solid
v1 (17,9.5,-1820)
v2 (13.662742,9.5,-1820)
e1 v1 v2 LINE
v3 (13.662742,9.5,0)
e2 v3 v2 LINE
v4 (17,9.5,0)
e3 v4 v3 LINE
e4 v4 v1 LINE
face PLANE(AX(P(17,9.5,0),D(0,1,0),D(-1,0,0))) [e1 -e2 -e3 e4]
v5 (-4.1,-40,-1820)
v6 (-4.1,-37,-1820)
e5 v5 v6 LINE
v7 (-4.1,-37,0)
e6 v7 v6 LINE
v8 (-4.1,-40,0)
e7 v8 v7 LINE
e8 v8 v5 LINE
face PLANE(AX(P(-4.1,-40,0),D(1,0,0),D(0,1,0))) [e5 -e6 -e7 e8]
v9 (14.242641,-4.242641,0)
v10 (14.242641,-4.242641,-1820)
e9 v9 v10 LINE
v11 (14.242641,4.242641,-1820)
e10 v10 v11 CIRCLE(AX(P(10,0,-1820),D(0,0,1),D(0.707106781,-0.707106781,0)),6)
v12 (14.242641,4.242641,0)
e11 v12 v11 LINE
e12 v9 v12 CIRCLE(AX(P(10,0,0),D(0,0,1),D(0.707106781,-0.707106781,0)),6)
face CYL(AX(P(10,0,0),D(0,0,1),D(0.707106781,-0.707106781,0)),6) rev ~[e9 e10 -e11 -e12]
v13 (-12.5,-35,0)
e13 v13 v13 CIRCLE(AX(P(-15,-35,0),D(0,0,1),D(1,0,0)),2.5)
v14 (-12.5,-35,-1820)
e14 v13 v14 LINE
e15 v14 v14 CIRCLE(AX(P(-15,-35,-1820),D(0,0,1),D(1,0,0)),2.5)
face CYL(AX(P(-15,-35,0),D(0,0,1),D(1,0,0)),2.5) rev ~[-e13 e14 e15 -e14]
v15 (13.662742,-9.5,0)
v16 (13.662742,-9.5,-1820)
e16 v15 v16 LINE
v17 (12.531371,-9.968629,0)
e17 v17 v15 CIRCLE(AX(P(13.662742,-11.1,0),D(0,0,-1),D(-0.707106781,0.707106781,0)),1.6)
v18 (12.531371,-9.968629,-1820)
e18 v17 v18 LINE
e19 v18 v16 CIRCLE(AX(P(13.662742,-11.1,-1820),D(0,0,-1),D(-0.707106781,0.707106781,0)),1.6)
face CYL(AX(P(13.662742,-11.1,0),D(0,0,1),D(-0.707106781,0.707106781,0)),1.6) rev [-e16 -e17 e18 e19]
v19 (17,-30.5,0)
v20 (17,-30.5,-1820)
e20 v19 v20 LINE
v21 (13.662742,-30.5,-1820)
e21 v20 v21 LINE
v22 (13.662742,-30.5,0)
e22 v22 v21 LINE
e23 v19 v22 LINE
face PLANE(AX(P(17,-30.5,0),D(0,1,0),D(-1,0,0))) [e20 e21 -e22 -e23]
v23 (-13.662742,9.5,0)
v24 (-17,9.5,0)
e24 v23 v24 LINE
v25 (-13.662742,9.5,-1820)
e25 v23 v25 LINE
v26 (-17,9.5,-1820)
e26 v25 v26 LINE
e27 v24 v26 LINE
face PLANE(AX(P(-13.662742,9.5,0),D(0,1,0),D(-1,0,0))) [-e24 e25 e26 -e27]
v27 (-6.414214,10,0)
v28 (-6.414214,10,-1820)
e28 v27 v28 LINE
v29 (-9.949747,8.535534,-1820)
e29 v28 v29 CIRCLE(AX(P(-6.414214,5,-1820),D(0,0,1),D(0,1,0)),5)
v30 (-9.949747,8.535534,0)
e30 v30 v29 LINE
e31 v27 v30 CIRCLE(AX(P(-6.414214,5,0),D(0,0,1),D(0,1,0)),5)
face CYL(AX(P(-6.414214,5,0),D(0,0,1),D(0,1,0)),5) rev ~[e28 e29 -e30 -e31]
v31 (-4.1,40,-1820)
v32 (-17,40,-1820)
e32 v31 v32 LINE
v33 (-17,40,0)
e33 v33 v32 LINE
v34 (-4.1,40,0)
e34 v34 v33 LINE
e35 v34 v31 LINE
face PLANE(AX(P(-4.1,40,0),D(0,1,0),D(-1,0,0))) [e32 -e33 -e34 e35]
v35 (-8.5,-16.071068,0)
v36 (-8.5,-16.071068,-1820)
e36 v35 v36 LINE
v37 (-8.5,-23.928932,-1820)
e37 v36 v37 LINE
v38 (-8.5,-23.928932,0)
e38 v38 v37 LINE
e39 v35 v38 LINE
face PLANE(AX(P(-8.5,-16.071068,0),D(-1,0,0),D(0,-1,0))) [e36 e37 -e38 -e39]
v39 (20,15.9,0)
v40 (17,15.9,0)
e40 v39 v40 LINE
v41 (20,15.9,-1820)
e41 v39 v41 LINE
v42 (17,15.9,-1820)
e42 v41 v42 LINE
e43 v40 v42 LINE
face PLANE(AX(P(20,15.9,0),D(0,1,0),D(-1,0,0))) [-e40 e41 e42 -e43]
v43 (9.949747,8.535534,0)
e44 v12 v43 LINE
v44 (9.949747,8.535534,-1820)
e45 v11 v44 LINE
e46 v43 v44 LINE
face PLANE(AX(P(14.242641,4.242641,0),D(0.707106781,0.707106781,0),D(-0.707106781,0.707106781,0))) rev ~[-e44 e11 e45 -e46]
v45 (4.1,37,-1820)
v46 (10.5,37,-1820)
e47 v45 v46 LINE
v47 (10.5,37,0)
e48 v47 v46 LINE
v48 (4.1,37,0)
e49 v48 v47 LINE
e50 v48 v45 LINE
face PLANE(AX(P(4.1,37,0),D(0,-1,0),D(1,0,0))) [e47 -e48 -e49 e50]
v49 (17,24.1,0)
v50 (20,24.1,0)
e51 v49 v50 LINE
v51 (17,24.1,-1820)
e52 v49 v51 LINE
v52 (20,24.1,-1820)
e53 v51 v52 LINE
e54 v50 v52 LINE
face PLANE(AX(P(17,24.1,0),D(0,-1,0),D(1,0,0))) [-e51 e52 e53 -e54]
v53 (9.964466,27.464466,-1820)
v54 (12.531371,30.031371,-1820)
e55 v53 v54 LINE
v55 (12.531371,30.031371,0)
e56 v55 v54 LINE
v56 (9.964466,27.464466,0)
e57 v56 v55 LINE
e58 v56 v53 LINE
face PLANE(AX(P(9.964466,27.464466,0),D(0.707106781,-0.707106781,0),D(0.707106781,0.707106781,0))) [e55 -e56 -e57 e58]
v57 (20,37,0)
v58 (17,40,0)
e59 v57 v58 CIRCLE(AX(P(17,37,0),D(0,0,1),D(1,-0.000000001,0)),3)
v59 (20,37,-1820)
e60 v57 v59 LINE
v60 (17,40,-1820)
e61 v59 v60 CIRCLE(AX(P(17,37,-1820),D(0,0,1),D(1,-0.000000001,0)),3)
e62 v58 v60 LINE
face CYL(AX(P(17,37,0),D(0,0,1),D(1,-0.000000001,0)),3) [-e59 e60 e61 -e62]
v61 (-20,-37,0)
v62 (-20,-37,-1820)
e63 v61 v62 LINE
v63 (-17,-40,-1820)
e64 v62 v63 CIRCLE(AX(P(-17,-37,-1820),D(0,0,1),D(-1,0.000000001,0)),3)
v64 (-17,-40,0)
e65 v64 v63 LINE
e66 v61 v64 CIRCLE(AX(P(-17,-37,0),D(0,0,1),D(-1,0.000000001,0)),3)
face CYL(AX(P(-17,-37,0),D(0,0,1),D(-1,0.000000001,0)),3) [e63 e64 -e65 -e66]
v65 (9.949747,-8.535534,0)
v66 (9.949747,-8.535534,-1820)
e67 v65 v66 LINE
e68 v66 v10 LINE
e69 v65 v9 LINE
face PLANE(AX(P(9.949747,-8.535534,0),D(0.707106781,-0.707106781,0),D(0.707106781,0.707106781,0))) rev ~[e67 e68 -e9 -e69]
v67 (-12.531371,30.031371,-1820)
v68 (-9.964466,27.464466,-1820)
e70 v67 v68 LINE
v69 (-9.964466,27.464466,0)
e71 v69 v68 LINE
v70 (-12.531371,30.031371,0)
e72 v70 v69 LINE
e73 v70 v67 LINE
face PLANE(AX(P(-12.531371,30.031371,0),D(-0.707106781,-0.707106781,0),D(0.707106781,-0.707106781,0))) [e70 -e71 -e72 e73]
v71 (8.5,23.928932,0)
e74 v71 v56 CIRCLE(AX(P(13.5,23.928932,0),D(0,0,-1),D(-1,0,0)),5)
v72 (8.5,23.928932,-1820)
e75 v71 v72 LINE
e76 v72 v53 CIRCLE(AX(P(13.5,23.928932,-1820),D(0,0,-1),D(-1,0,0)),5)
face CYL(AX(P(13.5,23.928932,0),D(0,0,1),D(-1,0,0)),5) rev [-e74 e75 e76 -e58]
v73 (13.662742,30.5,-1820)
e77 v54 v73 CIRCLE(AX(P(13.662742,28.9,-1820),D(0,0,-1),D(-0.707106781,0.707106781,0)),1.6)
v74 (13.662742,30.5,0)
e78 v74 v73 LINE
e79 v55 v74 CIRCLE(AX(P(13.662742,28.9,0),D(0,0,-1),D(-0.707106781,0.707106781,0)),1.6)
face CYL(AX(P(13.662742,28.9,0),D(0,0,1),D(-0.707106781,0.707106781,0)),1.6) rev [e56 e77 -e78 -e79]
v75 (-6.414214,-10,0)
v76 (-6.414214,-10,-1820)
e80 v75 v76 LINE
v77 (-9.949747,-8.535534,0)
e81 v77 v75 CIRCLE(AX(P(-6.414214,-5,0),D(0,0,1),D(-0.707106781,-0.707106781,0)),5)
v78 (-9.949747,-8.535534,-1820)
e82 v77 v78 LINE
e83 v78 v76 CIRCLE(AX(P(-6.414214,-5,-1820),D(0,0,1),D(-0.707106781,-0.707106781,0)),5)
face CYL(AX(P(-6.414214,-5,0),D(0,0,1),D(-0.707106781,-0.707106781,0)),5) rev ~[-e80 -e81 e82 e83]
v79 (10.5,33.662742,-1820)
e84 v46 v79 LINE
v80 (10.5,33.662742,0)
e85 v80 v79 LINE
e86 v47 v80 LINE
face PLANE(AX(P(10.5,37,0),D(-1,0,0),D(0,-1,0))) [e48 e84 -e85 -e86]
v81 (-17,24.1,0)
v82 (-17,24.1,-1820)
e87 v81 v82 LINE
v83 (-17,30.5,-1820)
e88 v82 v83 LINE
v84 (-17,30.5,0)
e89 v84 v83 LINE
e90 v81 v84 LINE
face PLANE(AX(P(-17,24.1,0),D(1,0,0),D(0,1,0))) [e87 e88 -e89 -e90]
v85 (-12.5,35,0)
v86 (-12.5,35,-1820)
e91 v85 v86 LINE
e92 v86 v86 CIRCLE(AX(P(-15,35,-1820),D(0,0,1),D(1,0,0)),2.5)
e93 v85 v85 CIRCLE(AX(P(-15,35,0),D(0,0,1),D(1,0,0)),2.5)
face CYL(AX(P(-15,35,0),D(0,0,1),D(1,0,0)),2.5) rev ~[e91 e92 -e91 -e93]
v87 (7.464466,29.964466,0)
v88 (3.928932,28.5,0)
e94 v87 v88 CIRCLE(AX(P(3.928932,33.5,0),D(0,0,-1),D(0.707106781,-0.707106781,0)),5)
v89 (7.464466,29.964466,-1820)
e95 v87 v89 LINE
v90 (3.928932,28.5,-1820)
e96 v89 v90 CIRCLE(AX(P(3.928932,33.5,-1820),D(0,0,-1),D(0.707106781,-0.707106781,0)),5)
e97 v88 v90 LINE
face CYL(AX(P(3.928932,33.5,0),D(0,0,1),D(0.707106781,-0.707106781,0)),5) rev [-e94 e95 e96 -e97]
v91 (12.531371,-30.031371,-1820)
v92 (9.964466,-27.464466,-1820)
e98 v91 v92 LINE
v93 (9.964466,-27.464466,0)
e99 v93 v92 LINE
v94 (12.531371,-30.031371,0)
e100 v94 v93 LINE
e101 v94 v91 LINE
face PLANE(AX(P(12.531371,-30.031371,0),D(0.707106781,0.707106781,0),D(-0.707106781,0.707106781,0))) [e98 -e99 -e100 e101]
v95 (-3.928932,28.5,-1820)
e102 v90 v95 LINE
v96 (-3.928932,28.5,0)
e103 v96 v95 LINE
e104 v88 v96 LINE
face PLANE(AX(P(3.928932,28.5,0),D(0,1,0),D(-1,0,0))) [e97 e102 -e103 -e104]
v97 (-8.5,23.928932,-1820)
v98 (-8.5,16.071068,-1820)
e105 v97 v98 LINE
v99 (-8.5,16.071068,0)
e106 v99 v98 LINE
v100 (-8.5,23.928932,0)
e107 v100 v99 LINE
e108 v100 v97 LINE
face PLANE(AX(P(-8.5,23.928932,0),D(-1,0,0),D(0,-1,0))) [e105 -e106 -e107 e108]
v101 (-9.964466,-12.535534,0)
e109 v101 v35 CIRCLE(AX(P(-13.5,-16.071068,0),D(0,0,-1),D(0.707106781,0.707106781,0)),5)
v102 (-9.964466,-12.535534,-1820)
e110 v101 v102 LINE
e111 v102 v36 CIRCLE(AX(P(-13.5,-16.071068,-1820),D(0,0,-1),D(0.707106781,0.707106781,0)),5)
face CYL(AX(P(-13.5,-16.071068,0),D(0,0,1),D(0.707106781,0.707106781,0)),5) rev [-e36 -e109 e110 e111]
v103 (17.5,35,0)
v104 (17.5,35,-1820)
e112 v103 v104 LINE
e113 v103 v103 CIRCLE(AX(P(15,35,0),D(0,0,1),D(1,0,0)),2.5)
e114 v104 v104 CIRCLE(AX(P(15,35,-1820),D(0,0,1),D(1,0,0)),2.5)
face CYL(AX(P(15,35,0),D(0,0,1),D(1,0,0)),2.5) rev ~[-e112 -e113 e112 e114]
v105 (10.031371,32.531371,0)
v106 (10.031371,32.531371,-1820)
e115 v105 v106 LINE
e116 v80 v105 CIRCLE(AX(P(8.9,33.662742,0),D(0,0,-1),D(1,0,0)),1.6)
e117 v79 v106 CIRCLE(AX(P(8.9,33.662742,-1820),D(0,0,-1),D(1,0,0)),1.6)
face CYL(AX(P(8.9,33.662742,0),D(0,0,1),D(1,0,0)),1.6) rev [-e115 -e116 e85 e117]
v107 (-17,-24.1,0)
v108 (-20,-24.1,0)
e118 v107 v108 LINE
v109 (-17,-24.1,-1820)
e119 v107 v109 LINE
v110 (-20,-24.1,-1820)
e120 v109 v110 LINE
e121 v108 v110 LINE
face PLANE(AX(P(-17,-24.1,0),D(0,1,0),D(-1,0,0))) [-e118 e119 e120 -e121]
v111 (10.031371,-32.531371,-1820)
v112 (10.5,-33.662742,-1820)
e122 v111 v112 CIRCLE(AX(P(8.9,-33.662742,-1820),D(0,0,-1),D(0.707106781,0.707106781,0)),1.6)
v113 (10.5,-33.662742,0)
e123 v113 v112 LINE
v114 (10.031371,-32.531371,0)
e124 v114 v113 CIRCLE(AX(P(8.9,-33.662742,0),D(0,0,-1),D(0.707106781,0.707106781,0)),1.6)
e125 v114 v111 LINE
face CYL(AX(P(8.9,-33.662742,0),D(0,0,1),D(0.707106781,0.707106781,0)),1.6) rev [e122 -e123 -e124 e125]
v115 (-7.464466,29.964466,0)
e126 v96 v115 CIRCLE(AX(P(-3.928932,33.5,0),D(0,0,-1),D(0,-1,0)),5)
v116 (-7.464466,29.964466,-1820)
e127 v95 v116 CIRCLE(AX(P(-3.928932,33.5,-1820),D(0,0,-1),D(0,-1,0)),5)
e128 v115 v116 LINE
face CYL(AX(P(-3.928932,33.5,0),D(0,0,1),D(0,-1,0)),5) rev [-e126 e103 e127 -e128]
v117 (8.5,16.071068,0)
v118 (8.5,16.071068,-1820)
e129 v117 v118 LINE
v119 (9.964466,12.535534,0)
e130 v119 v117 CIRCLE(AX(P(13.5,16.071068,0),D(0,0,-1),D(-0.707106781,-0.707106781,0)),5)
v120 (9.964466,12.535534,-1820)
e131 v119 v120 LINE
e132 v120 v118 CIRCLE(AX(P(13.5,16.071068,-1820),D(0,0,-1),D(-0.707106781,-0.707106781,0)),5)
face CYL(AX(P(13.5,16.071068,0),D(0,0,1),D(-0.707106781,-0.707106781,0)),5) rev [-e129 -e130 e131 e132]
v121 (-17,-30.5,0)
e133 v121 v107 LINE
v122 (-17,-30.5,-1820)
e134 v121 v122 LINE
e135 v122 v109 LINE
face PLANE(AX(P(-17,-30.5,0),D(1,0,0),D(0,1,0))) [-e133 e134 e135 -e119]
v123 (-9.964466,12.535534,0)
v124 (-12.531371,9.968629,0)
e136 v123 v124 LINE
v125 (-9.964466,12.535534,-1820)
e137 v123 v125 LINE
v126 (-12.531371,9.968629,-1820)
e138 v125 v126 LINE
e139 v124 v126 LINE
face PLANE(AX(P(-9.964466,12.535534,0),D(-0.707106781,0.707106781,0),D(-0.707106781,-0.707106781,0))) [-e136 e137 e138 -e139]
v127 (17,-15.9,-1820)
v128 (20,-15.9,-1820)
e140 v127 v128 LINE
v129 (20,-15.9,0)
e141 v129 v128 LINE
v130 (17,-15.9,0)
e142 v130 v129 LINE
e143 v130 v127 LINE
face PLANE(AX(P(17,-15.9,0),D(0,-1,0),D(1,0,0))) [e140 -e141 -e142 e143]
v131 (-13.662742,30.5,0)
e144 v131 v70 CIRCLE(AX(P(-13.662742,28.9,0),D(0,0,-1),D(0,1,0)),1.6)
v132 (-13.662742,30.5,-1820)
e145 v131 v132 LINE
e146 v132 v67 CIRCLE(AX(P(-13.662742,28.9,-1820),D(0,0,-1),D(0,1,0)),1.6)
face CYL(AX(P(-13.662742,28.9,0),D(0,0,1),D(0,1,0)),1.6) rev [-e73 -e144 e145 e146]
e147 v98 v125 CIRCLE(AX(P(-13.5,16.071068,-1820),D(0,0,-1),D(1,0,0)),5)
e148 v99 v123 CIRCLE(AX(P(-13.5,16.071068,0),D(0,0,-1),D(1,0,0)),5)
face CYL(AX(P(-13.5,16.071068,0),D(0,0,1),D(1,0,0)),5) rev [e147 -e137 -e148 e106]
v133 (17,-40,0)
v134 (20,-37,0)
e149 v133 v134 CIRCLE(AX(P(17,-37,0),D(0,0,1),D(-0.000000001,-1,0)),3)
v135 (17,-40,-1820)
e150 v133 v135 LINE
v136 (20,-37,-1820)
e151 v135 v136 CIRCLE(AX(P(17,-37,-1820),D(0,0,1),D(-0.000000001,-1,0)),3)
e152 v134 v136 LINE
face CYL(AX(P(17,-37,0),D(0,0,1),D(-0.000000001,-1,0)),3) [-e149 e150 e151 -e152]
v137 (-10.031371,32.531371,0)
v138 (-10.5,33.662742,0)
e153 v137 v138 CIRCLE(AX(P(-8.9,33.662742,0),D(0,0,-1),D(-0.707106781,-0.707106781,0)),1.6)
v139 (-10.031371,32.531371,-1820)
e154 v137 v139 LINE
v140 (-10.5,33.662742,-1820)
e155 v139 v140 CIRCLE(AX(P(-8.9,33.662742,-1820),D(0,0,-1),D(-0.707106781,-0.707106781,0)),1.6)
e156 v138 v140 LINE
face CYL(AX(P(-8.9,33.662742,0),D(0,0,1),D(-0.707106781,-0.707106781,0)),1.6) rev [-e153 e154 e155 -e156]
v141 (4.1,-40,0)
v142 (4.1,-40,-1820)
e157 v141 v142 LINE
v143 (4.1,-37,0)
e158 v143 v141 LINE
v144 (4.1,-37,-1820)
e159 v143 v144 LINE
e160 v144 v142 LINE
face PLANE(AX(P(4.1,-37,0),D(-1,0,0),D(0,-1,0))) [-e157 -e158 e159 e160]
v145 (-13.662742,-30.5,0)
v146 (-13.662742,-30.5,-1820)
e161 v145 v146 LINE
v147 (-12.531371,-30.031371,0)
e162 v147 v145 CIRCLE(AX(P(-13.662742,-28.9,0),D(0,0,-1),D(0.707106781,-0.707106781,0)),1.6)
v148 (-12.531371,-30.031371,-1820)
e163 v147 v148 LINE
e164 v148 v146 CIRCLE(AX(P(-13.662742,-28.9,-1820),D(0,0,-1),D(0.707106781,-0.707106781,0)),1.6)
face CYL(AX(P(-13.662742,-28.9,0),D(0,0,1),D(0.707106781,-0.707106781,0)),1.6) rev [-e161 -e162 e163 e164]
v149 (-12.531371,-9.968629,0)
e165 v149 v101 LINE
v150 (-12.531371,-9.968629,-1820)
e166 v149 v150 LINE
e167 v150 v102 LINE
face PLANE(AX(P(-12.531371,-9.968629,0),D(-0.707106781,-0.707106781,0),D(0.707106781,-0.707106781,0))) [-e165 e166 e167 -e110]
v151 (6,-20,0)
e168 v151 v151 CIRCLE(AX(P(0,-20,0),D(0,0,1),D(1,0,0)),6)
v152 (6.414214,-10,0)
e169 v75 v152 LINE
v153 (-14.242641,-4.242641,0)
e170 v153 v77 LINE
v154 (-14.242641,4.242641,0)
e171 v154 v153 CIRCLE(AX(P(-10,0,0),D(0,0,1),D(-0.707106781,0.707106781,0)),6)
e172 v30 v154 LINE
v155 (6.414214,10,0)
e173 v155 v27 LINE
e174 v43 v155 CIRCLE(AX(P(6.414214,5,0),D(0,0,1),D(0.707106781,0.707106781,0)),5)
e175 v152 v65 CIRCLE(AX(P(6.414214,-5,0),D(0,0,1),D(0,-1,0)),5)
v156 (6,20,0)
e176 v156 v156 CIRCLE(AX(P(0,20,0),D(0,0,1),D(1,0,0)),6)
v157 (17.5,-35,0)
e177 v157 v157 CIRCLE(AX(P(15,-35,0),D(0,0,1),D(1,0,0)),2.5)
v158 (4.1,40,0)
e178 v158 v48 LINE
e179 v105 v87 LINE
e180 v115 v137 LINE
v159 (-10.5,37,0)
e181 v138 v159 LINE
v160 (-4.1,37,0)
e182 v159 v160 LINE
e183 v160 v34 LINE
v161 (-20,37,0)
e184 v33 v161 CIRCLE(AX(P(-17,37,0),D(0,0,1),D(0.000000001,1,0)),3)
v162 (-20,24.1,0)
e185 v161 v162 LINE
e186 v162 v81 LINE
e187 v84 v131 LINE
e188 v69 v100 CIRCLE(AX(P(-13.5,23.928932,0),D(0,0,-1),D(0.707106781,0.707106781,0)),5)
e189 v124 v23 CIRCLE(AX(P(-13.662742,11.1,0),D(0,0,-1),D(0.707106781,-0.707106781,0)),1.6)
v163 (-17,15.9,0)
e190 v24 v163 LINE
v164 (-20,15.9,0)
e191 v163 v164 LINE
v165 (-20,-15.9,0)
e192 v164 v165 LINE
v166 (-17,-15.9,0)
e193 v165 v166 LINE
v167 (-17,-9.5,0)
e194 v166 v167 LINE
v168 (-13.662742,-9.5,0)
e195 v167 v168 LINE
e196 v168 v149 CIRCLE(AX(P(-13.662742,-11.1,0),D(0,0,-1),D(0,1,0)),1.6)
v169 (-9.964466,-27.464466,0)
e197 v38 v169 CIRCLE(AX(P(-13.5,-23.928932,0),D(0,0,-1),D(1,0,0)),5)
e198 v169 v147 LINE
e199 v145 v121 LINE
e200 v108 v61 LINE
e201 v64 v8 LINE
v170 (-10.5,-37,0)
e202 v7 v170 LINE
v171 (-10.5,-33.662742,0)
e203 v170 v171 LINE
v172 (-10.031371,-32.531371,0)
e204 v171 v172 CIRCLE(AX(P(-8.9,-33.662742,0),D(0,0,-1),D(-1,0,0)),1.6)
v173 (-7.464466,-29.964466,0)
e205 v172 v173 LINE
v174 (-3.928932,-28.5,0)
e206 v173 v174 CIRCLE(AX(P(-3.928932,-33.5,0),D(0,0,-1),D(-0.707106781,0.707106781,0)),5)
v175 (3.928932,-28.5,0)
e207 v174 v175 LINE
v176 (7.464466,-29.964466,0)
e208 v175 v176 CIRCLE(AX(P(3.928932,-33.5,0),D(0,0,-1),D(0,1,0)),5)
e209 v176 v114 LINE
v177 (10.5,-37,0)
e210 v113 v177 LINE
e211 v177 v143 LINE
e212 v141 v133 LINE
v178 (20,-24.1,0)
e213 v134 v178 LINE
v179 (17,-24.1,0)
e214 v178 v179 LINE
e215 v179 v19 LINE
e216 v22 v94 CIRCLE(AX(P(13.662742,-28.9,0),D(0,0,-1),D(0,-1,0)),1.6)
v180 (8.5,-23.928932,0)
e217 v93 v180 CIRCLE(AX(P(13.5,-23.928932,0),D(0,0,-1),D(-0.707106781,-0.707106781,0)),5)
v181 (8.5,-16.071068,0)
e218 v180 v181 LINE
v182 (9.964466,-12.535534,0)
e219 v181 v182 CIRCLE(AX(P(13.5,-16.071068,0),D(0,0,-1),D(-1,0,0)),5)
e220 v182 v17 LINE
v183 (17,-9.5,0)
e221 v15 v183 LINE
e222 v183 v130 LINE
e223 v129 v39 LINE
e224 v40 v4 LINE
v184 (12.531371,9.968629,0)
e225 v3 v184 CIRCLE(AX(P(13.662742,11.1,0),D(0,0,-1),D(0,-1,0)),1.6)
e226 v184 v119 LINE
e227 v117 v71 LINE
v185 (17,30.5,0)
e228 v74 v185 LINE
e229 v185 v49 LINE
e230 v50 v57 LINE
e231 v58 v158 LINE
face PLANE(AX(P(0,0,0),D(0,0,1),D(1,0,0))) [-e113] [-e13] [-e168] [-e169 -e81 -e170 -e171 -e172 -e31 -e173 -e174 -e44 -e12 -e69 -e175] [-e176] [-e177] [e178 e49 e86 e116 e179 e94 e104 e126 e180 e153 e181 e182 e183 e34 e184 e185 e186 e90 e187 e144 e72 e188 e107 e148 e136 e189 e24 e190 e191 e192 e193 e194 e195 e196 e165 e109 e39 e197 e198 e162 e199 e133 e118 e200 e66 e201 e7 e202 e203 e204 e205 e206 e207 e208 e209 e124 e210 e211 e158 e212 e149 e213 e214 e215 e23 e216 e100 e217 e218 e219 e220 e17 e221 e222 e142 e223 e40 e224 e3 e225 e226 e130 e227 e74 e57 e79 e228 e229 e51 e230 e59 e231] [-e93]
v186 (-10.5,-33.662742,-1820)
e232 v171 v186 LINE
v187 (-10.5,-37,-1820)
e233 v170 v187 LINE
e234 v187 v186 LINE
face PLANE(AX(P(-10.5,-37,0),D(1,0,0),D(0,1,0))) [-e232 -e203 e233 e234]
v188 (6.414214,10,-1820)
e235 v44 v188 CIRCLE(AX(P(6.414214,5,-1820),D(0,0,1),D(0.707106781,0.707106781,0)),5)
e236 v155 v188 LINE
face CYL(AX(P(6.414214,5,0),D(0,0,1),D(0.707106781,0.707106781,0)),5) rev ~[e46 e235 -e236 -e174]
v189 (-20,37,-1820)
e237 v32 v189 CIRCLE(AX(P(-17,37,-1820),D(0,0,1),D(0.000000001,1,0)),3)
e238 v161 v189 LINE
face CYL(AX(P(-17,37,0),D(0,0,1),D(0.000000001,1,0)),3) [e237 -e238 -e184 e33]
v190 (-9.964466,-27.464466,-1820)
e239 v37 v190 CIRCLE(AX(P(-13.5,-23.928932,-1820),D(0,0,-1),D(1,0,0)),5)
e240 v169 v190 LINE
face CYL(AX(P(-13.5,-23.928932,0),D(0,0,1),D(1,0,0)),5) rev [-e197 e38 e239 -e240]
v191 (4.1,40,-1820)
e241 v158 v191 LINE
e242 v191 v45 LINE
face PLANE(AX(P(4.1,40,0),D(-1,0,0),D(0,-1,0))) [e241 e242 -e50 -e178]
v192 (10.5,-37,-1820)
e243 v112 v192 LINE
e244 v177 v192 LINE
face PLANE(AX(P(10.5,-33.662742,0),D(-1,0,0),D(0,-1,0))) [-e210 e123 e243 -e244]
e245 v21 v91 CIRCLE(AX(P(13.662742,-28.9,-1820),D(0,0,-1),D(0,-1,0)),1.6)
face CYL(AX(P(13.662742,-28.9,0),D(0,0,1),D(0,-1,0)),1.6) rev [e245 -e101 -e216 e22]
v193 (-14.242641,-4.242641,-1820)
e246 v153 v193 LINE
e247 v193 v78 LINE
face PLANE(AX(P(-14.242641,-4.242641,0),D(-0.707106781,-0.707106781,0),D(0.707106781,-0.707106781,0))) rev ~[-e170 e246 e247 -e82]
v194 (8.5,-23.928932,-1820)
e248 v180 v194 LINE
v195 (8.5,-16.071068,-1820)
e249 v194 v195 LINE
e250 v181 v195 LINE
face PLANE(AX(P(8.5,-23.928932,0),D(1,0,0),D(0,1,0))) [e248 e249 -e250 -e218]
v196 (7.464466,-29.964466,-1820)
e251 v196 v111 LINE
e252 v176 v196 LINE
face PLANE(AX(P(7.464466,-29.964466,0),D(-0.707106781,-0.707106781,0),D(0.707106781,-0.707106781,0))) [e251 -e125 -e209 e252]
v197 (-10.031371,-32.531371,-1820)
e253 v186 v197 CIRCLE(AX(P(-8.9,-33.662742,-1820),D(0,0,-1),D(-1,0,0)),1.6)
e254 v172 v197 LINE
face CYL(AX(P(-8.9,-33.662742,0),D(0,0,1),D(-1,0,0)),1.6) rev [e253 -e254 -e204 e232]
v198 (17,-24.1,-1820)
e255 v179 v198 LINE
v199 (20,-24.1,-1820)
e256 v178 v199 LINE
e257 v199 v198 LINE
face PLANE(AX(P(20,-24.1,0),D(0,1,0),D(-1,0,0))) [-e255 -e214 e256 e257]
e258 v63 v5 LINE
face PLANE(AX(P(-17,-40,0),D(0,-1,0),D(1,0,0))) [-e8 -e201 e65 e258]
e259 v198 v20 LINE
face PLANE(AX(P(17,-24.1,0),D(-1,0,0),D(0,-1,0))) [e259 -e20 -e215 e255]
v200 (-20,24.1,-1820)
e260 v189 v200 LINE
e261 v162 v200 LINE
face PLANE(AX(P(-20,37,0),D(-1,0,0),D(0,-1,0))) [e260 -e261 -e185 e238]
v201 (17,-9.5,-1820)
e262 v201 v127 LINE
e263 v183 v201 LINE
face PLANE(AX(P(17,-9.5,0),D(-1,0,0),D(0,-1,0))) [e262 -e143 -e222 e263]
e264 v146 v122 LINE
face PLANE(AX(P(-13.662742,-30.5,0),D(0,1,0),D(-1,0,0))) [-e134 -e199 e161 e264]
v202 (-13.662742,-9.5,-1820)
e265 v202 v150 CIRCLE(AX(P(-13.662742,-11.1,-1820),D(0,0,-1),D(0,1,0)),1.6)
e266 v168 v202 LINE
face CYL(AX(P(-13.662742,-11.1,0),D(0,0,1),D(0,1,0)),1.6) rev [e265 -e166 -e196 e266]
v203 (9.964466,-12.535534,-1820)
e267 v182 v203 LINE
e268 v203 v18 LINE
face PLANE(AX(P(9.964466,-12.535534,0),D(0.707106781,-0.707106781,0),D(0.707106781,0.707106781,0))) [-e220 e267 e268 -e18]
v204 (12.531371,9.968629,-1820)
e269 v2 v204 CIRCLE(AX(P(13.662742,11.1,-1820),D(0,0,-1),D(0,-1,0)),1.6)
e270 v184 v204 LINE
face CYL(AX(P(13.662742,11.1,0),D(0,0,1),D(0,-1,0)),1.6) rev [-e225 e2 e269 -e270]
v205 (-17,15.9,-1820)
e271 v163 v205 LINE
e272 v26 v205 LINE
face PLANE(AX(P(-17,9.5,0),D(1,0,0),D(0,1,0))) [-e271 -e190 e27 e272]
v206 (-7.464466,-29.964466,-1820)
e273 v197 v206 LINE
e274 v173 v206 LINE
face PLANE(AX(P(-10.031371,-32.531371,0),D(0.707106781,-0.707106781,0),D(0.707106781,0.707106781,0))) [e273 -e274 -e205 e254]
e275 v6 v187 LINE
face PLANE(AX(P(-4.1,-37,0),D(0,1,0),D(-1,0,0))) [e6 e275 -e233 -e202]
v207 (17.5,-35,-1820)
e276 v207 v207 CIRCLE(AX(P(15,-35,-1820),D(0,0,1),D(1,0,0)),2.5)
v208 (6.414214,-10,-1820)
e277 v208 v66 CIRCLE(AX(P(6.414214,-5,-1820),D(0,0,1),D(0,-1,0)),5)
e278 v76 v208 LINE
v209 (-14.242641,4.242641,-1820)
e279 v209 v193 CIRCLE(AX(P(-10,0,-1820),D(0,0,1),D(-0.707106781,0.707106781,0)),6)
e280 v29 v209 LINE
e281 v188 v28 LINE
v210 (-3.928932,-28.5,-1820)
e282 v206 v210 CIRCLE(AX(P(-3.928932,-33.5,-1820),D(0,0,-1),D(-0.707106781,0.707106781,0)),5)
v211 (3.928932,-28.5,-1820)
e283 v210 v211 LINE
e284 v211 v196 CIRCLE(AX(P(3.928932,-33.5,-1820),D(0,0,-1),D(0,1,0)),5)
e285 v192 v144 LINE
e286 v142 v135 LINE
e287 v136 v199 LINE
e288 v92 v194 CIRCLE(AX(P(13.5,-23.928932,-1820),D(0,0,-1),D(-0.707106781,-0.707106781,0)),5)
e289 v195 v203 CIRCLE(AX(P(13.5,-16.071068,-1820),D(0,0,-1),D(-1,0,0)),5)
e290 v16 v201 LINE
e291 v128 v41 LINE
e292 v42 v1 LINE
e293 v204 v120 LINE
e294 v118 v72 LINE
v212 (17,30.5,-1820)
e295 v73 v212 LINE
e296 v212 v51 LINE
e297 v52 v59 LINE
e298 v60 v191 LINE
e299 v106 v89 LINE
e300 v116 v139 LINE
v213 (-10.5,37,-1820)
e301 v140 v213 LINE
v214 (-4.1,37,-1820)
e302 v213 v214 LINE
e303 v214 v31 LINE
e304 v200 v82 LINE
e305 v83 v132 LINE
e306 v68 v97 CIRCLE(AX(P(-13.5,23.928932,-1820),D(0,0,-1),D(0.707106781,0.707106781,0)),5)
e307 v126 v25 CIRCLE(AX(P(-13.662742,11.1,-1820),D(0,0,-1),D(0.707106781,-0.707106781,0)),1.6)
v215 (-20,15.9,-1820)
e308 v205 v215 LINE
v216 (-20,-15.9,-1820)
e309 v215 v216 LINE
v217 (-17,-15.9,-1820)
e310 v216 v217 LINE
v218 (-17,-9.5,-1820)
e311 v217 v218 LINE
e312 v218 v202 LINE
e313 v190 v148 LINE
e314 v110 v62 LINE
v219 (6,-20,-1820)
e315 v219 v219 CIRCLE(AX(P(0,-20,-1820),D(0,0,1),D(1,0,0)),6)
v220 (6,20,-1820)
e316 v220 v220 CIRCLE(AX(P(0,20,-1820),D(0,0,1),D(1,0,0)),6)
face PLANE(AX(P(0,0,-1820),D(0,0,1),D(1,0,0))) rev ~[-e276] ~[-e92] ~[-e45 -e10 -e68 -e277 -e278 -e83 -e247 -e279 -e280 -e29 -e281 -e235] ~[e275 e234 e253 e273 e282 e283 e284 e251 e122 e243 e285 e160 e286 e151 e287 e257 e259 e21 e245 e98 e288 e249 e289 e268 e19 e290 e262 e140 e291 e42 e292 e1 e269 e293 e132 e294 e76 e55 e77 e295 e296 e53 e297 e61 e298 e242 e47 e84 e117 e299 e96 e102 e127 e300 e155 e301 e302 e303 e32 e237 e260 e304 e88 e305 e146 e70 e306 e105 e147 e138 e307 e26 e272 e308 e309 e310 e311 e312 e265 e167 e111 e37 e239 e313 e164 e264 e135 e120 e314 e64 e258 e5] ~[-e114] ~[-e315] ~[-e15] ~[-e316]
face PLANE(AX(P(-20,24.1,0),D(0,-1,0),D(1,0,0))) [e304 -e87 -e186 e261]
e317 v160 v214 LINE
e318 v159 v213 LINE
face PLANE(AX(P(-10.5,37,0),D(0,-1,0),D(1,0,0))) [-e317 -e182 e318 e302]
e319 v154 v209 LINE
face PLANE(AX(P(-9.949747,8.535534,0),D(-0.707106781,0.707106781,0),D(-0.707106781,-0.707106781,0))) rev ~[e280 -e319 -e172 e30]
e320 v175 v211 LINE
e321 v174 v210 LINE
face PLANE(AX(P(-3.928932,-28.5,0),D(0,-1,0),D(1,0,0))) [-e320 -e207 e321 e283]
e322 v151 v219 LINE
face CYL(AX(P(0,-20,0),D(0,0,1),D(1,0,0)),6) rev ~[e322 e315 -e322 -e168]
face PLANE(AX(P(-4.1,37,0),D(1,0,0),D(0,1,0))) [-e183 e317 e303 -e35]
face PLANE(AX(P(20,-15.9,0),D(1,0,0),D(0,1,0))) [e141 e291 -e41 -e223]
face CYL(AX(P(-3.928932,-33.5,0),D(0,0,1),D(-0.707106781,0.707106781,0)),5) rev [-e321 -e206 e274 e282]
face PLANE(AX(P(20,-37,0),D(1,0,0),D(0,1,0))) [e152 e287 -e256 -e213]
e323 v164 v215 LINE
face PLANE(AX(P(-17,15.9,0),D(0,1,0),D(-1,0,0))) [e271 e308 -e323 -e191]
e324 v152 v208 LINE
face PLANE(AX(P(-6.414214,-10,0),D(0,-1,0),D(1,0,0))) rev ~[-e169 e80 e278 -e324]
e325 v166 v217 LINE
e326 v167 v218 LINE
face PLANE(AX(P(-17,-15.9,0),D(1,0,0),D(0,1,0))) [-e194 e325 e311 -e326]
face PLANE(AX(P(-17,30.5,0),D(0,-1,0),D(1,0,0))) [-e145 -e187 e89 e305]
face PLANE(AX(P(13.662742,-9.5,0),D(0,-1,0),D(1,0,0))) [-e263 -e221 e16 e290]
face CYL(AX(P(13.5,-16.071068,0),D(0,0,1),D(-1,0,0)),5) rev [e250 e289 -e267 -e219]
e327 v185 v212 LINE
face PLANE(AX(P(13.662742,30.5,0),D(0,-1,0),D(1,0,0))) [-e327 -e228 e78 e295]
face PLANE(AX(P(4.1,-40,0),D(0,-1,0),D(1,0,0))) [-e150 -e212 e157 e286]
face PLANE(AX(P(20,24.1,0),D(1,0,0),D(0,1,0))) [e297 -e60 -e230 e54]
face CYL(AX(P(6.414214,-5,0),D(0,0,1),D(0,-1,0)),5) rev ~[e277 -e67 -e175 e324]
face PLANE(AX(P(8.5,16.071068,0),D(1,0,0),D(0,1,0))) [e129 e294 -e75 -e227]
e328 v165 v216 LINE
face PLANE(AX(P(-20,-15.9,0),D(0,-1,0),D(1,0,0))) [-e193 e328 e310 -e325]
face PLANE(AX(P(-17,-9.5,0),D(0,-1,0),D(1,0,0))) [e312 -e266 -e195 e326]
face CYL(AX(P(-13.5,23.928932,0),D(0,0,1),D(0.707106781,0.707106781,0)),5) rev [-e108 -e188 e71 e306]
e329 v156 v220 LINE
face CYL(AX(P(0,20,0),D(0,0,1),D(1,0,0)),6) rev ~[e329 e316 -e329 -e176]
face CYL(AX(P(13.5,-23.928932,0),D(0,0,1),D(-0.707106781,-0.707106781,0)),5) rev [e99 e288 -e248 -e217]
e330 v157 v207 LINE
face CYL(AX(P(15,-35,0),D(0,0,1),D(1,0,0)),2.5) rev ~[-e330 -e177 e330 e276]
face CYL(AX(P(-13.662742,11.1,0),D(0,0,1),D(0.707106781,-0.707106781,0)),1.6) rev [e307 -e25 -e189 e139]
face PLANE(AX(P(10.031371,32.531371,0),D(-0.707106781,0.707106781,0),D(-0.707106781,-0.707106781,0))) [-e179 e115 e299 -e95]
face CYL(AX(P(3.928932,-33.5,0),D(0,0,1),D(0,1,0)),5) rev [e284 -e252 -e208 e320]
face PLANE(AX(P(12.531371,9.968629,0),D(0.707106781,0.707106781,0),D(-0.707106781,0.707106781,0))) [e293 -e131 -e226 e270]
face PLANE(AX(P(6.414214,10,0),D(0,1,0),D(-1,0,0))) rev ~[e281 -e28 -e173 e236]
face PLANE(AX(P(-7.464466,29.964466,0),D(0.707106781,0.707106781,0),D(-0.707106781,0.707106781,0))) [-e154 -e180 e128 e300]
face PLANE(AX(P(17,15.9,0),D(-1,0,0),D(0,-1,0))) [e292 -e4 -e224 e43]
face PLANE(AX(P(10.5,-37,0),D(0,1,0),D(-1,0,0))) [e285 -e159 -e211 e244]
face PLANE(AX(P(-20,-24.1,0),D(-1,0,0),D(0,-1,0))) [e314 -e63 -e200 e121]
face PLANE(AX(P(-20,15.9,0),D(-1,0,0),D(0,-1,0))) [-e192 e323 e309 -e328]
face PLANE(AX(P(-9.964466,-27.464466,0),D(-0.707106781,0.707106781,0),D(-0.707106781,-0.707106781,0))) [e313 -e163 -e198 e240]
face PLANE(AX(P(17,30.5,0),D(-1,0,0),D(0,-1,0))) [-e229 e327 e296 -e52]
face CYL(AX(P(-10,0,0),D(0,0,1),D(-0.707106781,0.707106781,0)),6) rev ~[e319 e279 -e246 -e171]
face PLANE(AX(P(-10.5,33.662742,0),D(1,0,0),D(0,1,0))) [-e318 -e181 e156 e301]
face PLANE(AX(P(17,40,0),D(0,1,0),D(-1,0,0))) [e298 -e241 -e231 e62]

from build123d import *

# Parameters (mm, degrees)
SKETCH1_R           = 2.5
SKETCH1_R_2         = 6
BOSS_EXTRUDE1_DEPTH = 1820


with BuildPart() as part:
    # Sketch1 → Boss-Extrude1 (new body)
    with BuildSketch(Plane.XY):
        with BuildLine():
            Line((-17, -40), (-4.1, -40))
            Line((-4.1, -40), (-4.1, -37))
            Line((-4.1, -37), (-10.5, -37))
            Line((-10.5, -37), (-10.5, -33.6627417))
            ThreePointArc((-10.5, -33.6627417), (-10.378207252, -33.050448208), (-10.03137085, -32.53137085))
            Line((-10.03137085, -32.53137085), (-7.464466094, -29.964466094))
            ThreePointArc((-7.464466094, -29.964466094), (-5.84234935, -28.880602337), (-3.928932188, -28.5))
            Line((-3.928932188, -28.5), (3.928932188, -28.5))
            ThreePointArc((3.928932188, -28.5), (5.84234935, -28.880602337), (7.464466094, -29.964466094))
            Line((7.464466094, -29.964466094), (10.03137085, -32.53137085))
            ThreePointArc((10.03137085, -32.53137085), (10.378207252, -33.050448208), (10.5, -33.6627417))
            Line((10.5, -33.6627417), (10.5, -37))
            Line((10.5, -37), (4.1, -37))
            Line((4.1, -37), (4.1, -40))
            Line((4.1, -40), (17, -40))
            ThreePointArc((17, -40), (19.121320344, -39.121320344), (20, -37))
            Line((20, -37), (20, -24.1))
            Line((20, -24.1), (17, -24.1))
            Line((17, -24.1), (17, -30.5))
            Line((17, -30.5), (13.6627417, -30.5))
            ThreePointArc((13.6627417, -30.5), (13.050448208, -30.378207252), (12.53137085, -30.03137085))
            Line((12.53137085, -30.03137085), (9.964466094, -27.464466094))
            ThreePointArc((9.964466094, -27.464466094), (8.880602337, -25.84234935), (8.5, -23.928932188))
            Line((8.5, -23.928932188), (8.5, -16.071067812))
            ThreePointArc((8.5, -16.071067812), (8.880602337, -14.15765065), (9.964466094, -12.535533906))
            Line((9.964466094, -12.535533906), (12.53137085, -9.96862915))
            ThreePointArc((12.53137085, -9.96862915), (13.050448208, -9.621792748), (13.6627417, -9.5))
            Line((13.6627417, -9.5), (17, -9.5))
            Line((17, -9.5), (17, -15.9))
            Line((17, -15.9), (20, -15.9))
            Line((20, -15.9), (20, 15.9))
            Line((20, 15.9), (17, 15.9))
            Line((17, 15.9), (17, 9.5))
            Line((17, 9.5), (13.6627417, 9.5))
            ThreePointArc((13.6627417, 9.5), (13.050448208, 9.621792748), (12.53137085, 9.96862915))
            Line((12.53137085, 9.96862915), (9.964466094, 12.535533906))
            ThreePointArc((9.964466094, 12.535533906), (8.880602337, 14.15765065), (8.5, 16.071067812))
            Line((8.5, 16.071067812), (8.5, 23.928932188))
            ThreePointArc((8.5, 23.928932188), (8.880602337, 25.84234935), (9.964466094, 27.464466094))
            Line((9.964466094, 27.464466094), (12.53137085, 30.03137085))
            ThreePointArc((12.53137085, 30.03137085), (13.050448208, 30.378207252), (13.6627417, 30.5))
            Line((13.6627417, 30.5), (17, 30.5))
            Line((17, 30.5), (17, 24.1))
            Line((17, 24.1), (20, 24.1))
            Line((20, 24.1), (20, 37))
            ThreePointArc((20, 37), (19.121320344, 39.121320344), (17, 40))
            Line((17, 40), (4.1, 40))
            Line((4.1, 40), (4.1, 37))
            Line((4.1, 37), (10.5, 37))
            Line((10.5, 37), (10.5, 33.6627417))
            ThreePointArc((10.5, 33.6627417), (10.378207252, 33.050448208), (10.03137085, 32.53137085))
            Line((10.03137085, 32.53137085), (7.464466094, 29.964466094))
            ThreePointArc((7.464466094, 29.964466094), (5.84234935, 28.880602337), (3.928932188, 28.5))
            Line((3.928932188, 28.5), (-3.928932188, 28.5))
            ThreePointArc((-3.928932188, 28.5), (-5.84234935, 28.880602337), (-7.464466094, 29.964466094))
            Line((-7.464466094, 29.964466094), (-10.03137085, 32.53137085))
            ThreePointArc((-10.03137085, 32.53137085), (-10.378207252, 33.050448208), (-10.5, 33.6627417))
            Line((-10.5, 33.6627417), (-10.5, 37))
            Line((-10.5, 37), (-4.1, 37))
            Line((-4.1, 37), (-4.1, 40))
            Line((-4.1, 40), (-17, 40))
            ThreePointArc((-17, 40), (-19.121320344, 39.121320344), (-20, 37))
            Line((-20, 37), (-20, 24.1))
            Line((-20, 24.1), (-17, 24.1))
            Line((-17, 24.1), (-17, 30.5))
            Line((-17, 30.5), (-13.6627417, 30.5))
            ThreePointArc((-13.6627417, 30.5), (-13.050448208, 30.378207252), (-12.53137085, 30.03137085))
            Line((-12.53137085, 30.03137085), (-9.964466094, 27.464466094))
            ThreePointArc((-9.964466094, 27.464466094), (-8.880602337, 25.84234935), (-8.5, 23.928932188))
            Line((-8.5, 23.928932188), (-8.5, 16.071067812))
            ThreePointArc((-8.5, 16.071067812), (-8.880602337, 14.15765065), (-9.964466094, 12.535533906))
            Line((-9.964466094, 12.535533906), (-12.53137085, 9.96862915))
            ThreePointArc((-12.53137085, 9.96862915), (-13.050448208, 9.621792748), (-13.6627417, 9.5))
            Line((-13.6627417, 9.5), (-17, 9.5))
            Line((-17, 9.5), (-17, 15.9))
            Line((-17, 15.9), (-20, 15.9))
            Line((-20, 15.9), (-20, -15.9))
            Line((-20, -15.9), (-17, -15.9))
            Line((-17, -15.9), (-17, -9.5))
            Line((-17, -9.5), (-13.6627417, -9.5))
            ThreePointArc((-13.6627417, -9.5), (-13.050448208, -9.621792748), (-12.53137085, -9.96862915))
            Line((-12.53137085, -9.96862915), (-9.964466094, -12.535533906))
            ThreePointArc((-9.964466094, -12.535533906), (-8.880602337, -14.15765065), (-8.5, -16.071067812))
            Line((-8.5, -16.071067812), (-8.5, -23.928932188))
            ThreePointArc((-8.5, -23.928932188), (-8.880602337, -25.84234935), (-9.964466094, -27.464466094))
            Line((-9.964466094, -27.464466094), (-12.53137085, -30.03137085))
            ThreePointArc((-12.53137085, -30.03137085), (-13.050448208, -30.378207252), (-13.6627417, -30.5))
            Line((-13.6627417, -30.5), (-17, -30.5))
            Line((-17, -30.5), (-17, -24.1))
            Line((-17, -24.1), (-20, -24.1))
            Line((-20, -24.1), (-20, -37))
            ThreePointArc((-20, -37), (-19.121320344, -39.121320344), (-17, -40))
        make_face()
        with Locations((15, 35)):
            Circle(SKETCH1_R, mode=Mode.SUBTRACT)
        with Locations((15, -35)):
            Circle(SKETCH1_R, mode=Mode.SUBTRACT)
        with Locations((0, 20)):
            Circle(SKETCH1_R_2, mode=Mode.SUBTRACT)
        with Locations((0, -20)):
            Circle(SKETCH1_R_2, mode=Mode.SUBTRACT)
        with Locations((-15, 35)):
            Circle(SKETCH1_R, mode=Mode.SUBTRACT)
        with Locations((-15, -35)):
            Circle(SKETCH1_R, mode=Mode.SUBTRACT)
        with BuildLine():
            Line((-14.242640687, -4.242640687), (-9.949747468, -8.535533906))
            ThreePointArc((-9.949747468, -8.535533906), (-8.327630724, -9.619397663), (-6.414213562, -10))
            Line((-6.414213562, -10), (6.414213562, -10))
            ThreePointArc((6.414213562, -10), (8.327630724, -9.619397663), (9.949747468, -8.535533906))
            Line((9.949747468, -8.535533906), (14.242640687, -4.242640687))
            ThreePointArc((14.242640687, -4.242640687), (16, 0), (14.242640687, 4.242640687))
            Line((14.242640687, 4.242640687), (9.949747468, 8.535533906))
            ThreePointArc((9.949747468, 8.535533906), (8.327630724, 9.619397663), (6.414213562, 10))
            Line((6.414213562, 10), (-6.414213562, 10))
            ThreePointArc((-6.414213562, 10), (-8.327630724, 9.619397663), (-9.949747468, 8.535533906))
            Line((-9.949747468, 8.535533906), (-14.242640687, 4.242640687))
            ThreePointArc((-14.242640687, 4.242640687), (-16, 0), (-14.242640687, -4.242640687))
        make_face(mode=Mode.SUBTRACT)
    extrude(amount=-BOSS_EXTRUDE1_DEPTH)


solid = part.part
